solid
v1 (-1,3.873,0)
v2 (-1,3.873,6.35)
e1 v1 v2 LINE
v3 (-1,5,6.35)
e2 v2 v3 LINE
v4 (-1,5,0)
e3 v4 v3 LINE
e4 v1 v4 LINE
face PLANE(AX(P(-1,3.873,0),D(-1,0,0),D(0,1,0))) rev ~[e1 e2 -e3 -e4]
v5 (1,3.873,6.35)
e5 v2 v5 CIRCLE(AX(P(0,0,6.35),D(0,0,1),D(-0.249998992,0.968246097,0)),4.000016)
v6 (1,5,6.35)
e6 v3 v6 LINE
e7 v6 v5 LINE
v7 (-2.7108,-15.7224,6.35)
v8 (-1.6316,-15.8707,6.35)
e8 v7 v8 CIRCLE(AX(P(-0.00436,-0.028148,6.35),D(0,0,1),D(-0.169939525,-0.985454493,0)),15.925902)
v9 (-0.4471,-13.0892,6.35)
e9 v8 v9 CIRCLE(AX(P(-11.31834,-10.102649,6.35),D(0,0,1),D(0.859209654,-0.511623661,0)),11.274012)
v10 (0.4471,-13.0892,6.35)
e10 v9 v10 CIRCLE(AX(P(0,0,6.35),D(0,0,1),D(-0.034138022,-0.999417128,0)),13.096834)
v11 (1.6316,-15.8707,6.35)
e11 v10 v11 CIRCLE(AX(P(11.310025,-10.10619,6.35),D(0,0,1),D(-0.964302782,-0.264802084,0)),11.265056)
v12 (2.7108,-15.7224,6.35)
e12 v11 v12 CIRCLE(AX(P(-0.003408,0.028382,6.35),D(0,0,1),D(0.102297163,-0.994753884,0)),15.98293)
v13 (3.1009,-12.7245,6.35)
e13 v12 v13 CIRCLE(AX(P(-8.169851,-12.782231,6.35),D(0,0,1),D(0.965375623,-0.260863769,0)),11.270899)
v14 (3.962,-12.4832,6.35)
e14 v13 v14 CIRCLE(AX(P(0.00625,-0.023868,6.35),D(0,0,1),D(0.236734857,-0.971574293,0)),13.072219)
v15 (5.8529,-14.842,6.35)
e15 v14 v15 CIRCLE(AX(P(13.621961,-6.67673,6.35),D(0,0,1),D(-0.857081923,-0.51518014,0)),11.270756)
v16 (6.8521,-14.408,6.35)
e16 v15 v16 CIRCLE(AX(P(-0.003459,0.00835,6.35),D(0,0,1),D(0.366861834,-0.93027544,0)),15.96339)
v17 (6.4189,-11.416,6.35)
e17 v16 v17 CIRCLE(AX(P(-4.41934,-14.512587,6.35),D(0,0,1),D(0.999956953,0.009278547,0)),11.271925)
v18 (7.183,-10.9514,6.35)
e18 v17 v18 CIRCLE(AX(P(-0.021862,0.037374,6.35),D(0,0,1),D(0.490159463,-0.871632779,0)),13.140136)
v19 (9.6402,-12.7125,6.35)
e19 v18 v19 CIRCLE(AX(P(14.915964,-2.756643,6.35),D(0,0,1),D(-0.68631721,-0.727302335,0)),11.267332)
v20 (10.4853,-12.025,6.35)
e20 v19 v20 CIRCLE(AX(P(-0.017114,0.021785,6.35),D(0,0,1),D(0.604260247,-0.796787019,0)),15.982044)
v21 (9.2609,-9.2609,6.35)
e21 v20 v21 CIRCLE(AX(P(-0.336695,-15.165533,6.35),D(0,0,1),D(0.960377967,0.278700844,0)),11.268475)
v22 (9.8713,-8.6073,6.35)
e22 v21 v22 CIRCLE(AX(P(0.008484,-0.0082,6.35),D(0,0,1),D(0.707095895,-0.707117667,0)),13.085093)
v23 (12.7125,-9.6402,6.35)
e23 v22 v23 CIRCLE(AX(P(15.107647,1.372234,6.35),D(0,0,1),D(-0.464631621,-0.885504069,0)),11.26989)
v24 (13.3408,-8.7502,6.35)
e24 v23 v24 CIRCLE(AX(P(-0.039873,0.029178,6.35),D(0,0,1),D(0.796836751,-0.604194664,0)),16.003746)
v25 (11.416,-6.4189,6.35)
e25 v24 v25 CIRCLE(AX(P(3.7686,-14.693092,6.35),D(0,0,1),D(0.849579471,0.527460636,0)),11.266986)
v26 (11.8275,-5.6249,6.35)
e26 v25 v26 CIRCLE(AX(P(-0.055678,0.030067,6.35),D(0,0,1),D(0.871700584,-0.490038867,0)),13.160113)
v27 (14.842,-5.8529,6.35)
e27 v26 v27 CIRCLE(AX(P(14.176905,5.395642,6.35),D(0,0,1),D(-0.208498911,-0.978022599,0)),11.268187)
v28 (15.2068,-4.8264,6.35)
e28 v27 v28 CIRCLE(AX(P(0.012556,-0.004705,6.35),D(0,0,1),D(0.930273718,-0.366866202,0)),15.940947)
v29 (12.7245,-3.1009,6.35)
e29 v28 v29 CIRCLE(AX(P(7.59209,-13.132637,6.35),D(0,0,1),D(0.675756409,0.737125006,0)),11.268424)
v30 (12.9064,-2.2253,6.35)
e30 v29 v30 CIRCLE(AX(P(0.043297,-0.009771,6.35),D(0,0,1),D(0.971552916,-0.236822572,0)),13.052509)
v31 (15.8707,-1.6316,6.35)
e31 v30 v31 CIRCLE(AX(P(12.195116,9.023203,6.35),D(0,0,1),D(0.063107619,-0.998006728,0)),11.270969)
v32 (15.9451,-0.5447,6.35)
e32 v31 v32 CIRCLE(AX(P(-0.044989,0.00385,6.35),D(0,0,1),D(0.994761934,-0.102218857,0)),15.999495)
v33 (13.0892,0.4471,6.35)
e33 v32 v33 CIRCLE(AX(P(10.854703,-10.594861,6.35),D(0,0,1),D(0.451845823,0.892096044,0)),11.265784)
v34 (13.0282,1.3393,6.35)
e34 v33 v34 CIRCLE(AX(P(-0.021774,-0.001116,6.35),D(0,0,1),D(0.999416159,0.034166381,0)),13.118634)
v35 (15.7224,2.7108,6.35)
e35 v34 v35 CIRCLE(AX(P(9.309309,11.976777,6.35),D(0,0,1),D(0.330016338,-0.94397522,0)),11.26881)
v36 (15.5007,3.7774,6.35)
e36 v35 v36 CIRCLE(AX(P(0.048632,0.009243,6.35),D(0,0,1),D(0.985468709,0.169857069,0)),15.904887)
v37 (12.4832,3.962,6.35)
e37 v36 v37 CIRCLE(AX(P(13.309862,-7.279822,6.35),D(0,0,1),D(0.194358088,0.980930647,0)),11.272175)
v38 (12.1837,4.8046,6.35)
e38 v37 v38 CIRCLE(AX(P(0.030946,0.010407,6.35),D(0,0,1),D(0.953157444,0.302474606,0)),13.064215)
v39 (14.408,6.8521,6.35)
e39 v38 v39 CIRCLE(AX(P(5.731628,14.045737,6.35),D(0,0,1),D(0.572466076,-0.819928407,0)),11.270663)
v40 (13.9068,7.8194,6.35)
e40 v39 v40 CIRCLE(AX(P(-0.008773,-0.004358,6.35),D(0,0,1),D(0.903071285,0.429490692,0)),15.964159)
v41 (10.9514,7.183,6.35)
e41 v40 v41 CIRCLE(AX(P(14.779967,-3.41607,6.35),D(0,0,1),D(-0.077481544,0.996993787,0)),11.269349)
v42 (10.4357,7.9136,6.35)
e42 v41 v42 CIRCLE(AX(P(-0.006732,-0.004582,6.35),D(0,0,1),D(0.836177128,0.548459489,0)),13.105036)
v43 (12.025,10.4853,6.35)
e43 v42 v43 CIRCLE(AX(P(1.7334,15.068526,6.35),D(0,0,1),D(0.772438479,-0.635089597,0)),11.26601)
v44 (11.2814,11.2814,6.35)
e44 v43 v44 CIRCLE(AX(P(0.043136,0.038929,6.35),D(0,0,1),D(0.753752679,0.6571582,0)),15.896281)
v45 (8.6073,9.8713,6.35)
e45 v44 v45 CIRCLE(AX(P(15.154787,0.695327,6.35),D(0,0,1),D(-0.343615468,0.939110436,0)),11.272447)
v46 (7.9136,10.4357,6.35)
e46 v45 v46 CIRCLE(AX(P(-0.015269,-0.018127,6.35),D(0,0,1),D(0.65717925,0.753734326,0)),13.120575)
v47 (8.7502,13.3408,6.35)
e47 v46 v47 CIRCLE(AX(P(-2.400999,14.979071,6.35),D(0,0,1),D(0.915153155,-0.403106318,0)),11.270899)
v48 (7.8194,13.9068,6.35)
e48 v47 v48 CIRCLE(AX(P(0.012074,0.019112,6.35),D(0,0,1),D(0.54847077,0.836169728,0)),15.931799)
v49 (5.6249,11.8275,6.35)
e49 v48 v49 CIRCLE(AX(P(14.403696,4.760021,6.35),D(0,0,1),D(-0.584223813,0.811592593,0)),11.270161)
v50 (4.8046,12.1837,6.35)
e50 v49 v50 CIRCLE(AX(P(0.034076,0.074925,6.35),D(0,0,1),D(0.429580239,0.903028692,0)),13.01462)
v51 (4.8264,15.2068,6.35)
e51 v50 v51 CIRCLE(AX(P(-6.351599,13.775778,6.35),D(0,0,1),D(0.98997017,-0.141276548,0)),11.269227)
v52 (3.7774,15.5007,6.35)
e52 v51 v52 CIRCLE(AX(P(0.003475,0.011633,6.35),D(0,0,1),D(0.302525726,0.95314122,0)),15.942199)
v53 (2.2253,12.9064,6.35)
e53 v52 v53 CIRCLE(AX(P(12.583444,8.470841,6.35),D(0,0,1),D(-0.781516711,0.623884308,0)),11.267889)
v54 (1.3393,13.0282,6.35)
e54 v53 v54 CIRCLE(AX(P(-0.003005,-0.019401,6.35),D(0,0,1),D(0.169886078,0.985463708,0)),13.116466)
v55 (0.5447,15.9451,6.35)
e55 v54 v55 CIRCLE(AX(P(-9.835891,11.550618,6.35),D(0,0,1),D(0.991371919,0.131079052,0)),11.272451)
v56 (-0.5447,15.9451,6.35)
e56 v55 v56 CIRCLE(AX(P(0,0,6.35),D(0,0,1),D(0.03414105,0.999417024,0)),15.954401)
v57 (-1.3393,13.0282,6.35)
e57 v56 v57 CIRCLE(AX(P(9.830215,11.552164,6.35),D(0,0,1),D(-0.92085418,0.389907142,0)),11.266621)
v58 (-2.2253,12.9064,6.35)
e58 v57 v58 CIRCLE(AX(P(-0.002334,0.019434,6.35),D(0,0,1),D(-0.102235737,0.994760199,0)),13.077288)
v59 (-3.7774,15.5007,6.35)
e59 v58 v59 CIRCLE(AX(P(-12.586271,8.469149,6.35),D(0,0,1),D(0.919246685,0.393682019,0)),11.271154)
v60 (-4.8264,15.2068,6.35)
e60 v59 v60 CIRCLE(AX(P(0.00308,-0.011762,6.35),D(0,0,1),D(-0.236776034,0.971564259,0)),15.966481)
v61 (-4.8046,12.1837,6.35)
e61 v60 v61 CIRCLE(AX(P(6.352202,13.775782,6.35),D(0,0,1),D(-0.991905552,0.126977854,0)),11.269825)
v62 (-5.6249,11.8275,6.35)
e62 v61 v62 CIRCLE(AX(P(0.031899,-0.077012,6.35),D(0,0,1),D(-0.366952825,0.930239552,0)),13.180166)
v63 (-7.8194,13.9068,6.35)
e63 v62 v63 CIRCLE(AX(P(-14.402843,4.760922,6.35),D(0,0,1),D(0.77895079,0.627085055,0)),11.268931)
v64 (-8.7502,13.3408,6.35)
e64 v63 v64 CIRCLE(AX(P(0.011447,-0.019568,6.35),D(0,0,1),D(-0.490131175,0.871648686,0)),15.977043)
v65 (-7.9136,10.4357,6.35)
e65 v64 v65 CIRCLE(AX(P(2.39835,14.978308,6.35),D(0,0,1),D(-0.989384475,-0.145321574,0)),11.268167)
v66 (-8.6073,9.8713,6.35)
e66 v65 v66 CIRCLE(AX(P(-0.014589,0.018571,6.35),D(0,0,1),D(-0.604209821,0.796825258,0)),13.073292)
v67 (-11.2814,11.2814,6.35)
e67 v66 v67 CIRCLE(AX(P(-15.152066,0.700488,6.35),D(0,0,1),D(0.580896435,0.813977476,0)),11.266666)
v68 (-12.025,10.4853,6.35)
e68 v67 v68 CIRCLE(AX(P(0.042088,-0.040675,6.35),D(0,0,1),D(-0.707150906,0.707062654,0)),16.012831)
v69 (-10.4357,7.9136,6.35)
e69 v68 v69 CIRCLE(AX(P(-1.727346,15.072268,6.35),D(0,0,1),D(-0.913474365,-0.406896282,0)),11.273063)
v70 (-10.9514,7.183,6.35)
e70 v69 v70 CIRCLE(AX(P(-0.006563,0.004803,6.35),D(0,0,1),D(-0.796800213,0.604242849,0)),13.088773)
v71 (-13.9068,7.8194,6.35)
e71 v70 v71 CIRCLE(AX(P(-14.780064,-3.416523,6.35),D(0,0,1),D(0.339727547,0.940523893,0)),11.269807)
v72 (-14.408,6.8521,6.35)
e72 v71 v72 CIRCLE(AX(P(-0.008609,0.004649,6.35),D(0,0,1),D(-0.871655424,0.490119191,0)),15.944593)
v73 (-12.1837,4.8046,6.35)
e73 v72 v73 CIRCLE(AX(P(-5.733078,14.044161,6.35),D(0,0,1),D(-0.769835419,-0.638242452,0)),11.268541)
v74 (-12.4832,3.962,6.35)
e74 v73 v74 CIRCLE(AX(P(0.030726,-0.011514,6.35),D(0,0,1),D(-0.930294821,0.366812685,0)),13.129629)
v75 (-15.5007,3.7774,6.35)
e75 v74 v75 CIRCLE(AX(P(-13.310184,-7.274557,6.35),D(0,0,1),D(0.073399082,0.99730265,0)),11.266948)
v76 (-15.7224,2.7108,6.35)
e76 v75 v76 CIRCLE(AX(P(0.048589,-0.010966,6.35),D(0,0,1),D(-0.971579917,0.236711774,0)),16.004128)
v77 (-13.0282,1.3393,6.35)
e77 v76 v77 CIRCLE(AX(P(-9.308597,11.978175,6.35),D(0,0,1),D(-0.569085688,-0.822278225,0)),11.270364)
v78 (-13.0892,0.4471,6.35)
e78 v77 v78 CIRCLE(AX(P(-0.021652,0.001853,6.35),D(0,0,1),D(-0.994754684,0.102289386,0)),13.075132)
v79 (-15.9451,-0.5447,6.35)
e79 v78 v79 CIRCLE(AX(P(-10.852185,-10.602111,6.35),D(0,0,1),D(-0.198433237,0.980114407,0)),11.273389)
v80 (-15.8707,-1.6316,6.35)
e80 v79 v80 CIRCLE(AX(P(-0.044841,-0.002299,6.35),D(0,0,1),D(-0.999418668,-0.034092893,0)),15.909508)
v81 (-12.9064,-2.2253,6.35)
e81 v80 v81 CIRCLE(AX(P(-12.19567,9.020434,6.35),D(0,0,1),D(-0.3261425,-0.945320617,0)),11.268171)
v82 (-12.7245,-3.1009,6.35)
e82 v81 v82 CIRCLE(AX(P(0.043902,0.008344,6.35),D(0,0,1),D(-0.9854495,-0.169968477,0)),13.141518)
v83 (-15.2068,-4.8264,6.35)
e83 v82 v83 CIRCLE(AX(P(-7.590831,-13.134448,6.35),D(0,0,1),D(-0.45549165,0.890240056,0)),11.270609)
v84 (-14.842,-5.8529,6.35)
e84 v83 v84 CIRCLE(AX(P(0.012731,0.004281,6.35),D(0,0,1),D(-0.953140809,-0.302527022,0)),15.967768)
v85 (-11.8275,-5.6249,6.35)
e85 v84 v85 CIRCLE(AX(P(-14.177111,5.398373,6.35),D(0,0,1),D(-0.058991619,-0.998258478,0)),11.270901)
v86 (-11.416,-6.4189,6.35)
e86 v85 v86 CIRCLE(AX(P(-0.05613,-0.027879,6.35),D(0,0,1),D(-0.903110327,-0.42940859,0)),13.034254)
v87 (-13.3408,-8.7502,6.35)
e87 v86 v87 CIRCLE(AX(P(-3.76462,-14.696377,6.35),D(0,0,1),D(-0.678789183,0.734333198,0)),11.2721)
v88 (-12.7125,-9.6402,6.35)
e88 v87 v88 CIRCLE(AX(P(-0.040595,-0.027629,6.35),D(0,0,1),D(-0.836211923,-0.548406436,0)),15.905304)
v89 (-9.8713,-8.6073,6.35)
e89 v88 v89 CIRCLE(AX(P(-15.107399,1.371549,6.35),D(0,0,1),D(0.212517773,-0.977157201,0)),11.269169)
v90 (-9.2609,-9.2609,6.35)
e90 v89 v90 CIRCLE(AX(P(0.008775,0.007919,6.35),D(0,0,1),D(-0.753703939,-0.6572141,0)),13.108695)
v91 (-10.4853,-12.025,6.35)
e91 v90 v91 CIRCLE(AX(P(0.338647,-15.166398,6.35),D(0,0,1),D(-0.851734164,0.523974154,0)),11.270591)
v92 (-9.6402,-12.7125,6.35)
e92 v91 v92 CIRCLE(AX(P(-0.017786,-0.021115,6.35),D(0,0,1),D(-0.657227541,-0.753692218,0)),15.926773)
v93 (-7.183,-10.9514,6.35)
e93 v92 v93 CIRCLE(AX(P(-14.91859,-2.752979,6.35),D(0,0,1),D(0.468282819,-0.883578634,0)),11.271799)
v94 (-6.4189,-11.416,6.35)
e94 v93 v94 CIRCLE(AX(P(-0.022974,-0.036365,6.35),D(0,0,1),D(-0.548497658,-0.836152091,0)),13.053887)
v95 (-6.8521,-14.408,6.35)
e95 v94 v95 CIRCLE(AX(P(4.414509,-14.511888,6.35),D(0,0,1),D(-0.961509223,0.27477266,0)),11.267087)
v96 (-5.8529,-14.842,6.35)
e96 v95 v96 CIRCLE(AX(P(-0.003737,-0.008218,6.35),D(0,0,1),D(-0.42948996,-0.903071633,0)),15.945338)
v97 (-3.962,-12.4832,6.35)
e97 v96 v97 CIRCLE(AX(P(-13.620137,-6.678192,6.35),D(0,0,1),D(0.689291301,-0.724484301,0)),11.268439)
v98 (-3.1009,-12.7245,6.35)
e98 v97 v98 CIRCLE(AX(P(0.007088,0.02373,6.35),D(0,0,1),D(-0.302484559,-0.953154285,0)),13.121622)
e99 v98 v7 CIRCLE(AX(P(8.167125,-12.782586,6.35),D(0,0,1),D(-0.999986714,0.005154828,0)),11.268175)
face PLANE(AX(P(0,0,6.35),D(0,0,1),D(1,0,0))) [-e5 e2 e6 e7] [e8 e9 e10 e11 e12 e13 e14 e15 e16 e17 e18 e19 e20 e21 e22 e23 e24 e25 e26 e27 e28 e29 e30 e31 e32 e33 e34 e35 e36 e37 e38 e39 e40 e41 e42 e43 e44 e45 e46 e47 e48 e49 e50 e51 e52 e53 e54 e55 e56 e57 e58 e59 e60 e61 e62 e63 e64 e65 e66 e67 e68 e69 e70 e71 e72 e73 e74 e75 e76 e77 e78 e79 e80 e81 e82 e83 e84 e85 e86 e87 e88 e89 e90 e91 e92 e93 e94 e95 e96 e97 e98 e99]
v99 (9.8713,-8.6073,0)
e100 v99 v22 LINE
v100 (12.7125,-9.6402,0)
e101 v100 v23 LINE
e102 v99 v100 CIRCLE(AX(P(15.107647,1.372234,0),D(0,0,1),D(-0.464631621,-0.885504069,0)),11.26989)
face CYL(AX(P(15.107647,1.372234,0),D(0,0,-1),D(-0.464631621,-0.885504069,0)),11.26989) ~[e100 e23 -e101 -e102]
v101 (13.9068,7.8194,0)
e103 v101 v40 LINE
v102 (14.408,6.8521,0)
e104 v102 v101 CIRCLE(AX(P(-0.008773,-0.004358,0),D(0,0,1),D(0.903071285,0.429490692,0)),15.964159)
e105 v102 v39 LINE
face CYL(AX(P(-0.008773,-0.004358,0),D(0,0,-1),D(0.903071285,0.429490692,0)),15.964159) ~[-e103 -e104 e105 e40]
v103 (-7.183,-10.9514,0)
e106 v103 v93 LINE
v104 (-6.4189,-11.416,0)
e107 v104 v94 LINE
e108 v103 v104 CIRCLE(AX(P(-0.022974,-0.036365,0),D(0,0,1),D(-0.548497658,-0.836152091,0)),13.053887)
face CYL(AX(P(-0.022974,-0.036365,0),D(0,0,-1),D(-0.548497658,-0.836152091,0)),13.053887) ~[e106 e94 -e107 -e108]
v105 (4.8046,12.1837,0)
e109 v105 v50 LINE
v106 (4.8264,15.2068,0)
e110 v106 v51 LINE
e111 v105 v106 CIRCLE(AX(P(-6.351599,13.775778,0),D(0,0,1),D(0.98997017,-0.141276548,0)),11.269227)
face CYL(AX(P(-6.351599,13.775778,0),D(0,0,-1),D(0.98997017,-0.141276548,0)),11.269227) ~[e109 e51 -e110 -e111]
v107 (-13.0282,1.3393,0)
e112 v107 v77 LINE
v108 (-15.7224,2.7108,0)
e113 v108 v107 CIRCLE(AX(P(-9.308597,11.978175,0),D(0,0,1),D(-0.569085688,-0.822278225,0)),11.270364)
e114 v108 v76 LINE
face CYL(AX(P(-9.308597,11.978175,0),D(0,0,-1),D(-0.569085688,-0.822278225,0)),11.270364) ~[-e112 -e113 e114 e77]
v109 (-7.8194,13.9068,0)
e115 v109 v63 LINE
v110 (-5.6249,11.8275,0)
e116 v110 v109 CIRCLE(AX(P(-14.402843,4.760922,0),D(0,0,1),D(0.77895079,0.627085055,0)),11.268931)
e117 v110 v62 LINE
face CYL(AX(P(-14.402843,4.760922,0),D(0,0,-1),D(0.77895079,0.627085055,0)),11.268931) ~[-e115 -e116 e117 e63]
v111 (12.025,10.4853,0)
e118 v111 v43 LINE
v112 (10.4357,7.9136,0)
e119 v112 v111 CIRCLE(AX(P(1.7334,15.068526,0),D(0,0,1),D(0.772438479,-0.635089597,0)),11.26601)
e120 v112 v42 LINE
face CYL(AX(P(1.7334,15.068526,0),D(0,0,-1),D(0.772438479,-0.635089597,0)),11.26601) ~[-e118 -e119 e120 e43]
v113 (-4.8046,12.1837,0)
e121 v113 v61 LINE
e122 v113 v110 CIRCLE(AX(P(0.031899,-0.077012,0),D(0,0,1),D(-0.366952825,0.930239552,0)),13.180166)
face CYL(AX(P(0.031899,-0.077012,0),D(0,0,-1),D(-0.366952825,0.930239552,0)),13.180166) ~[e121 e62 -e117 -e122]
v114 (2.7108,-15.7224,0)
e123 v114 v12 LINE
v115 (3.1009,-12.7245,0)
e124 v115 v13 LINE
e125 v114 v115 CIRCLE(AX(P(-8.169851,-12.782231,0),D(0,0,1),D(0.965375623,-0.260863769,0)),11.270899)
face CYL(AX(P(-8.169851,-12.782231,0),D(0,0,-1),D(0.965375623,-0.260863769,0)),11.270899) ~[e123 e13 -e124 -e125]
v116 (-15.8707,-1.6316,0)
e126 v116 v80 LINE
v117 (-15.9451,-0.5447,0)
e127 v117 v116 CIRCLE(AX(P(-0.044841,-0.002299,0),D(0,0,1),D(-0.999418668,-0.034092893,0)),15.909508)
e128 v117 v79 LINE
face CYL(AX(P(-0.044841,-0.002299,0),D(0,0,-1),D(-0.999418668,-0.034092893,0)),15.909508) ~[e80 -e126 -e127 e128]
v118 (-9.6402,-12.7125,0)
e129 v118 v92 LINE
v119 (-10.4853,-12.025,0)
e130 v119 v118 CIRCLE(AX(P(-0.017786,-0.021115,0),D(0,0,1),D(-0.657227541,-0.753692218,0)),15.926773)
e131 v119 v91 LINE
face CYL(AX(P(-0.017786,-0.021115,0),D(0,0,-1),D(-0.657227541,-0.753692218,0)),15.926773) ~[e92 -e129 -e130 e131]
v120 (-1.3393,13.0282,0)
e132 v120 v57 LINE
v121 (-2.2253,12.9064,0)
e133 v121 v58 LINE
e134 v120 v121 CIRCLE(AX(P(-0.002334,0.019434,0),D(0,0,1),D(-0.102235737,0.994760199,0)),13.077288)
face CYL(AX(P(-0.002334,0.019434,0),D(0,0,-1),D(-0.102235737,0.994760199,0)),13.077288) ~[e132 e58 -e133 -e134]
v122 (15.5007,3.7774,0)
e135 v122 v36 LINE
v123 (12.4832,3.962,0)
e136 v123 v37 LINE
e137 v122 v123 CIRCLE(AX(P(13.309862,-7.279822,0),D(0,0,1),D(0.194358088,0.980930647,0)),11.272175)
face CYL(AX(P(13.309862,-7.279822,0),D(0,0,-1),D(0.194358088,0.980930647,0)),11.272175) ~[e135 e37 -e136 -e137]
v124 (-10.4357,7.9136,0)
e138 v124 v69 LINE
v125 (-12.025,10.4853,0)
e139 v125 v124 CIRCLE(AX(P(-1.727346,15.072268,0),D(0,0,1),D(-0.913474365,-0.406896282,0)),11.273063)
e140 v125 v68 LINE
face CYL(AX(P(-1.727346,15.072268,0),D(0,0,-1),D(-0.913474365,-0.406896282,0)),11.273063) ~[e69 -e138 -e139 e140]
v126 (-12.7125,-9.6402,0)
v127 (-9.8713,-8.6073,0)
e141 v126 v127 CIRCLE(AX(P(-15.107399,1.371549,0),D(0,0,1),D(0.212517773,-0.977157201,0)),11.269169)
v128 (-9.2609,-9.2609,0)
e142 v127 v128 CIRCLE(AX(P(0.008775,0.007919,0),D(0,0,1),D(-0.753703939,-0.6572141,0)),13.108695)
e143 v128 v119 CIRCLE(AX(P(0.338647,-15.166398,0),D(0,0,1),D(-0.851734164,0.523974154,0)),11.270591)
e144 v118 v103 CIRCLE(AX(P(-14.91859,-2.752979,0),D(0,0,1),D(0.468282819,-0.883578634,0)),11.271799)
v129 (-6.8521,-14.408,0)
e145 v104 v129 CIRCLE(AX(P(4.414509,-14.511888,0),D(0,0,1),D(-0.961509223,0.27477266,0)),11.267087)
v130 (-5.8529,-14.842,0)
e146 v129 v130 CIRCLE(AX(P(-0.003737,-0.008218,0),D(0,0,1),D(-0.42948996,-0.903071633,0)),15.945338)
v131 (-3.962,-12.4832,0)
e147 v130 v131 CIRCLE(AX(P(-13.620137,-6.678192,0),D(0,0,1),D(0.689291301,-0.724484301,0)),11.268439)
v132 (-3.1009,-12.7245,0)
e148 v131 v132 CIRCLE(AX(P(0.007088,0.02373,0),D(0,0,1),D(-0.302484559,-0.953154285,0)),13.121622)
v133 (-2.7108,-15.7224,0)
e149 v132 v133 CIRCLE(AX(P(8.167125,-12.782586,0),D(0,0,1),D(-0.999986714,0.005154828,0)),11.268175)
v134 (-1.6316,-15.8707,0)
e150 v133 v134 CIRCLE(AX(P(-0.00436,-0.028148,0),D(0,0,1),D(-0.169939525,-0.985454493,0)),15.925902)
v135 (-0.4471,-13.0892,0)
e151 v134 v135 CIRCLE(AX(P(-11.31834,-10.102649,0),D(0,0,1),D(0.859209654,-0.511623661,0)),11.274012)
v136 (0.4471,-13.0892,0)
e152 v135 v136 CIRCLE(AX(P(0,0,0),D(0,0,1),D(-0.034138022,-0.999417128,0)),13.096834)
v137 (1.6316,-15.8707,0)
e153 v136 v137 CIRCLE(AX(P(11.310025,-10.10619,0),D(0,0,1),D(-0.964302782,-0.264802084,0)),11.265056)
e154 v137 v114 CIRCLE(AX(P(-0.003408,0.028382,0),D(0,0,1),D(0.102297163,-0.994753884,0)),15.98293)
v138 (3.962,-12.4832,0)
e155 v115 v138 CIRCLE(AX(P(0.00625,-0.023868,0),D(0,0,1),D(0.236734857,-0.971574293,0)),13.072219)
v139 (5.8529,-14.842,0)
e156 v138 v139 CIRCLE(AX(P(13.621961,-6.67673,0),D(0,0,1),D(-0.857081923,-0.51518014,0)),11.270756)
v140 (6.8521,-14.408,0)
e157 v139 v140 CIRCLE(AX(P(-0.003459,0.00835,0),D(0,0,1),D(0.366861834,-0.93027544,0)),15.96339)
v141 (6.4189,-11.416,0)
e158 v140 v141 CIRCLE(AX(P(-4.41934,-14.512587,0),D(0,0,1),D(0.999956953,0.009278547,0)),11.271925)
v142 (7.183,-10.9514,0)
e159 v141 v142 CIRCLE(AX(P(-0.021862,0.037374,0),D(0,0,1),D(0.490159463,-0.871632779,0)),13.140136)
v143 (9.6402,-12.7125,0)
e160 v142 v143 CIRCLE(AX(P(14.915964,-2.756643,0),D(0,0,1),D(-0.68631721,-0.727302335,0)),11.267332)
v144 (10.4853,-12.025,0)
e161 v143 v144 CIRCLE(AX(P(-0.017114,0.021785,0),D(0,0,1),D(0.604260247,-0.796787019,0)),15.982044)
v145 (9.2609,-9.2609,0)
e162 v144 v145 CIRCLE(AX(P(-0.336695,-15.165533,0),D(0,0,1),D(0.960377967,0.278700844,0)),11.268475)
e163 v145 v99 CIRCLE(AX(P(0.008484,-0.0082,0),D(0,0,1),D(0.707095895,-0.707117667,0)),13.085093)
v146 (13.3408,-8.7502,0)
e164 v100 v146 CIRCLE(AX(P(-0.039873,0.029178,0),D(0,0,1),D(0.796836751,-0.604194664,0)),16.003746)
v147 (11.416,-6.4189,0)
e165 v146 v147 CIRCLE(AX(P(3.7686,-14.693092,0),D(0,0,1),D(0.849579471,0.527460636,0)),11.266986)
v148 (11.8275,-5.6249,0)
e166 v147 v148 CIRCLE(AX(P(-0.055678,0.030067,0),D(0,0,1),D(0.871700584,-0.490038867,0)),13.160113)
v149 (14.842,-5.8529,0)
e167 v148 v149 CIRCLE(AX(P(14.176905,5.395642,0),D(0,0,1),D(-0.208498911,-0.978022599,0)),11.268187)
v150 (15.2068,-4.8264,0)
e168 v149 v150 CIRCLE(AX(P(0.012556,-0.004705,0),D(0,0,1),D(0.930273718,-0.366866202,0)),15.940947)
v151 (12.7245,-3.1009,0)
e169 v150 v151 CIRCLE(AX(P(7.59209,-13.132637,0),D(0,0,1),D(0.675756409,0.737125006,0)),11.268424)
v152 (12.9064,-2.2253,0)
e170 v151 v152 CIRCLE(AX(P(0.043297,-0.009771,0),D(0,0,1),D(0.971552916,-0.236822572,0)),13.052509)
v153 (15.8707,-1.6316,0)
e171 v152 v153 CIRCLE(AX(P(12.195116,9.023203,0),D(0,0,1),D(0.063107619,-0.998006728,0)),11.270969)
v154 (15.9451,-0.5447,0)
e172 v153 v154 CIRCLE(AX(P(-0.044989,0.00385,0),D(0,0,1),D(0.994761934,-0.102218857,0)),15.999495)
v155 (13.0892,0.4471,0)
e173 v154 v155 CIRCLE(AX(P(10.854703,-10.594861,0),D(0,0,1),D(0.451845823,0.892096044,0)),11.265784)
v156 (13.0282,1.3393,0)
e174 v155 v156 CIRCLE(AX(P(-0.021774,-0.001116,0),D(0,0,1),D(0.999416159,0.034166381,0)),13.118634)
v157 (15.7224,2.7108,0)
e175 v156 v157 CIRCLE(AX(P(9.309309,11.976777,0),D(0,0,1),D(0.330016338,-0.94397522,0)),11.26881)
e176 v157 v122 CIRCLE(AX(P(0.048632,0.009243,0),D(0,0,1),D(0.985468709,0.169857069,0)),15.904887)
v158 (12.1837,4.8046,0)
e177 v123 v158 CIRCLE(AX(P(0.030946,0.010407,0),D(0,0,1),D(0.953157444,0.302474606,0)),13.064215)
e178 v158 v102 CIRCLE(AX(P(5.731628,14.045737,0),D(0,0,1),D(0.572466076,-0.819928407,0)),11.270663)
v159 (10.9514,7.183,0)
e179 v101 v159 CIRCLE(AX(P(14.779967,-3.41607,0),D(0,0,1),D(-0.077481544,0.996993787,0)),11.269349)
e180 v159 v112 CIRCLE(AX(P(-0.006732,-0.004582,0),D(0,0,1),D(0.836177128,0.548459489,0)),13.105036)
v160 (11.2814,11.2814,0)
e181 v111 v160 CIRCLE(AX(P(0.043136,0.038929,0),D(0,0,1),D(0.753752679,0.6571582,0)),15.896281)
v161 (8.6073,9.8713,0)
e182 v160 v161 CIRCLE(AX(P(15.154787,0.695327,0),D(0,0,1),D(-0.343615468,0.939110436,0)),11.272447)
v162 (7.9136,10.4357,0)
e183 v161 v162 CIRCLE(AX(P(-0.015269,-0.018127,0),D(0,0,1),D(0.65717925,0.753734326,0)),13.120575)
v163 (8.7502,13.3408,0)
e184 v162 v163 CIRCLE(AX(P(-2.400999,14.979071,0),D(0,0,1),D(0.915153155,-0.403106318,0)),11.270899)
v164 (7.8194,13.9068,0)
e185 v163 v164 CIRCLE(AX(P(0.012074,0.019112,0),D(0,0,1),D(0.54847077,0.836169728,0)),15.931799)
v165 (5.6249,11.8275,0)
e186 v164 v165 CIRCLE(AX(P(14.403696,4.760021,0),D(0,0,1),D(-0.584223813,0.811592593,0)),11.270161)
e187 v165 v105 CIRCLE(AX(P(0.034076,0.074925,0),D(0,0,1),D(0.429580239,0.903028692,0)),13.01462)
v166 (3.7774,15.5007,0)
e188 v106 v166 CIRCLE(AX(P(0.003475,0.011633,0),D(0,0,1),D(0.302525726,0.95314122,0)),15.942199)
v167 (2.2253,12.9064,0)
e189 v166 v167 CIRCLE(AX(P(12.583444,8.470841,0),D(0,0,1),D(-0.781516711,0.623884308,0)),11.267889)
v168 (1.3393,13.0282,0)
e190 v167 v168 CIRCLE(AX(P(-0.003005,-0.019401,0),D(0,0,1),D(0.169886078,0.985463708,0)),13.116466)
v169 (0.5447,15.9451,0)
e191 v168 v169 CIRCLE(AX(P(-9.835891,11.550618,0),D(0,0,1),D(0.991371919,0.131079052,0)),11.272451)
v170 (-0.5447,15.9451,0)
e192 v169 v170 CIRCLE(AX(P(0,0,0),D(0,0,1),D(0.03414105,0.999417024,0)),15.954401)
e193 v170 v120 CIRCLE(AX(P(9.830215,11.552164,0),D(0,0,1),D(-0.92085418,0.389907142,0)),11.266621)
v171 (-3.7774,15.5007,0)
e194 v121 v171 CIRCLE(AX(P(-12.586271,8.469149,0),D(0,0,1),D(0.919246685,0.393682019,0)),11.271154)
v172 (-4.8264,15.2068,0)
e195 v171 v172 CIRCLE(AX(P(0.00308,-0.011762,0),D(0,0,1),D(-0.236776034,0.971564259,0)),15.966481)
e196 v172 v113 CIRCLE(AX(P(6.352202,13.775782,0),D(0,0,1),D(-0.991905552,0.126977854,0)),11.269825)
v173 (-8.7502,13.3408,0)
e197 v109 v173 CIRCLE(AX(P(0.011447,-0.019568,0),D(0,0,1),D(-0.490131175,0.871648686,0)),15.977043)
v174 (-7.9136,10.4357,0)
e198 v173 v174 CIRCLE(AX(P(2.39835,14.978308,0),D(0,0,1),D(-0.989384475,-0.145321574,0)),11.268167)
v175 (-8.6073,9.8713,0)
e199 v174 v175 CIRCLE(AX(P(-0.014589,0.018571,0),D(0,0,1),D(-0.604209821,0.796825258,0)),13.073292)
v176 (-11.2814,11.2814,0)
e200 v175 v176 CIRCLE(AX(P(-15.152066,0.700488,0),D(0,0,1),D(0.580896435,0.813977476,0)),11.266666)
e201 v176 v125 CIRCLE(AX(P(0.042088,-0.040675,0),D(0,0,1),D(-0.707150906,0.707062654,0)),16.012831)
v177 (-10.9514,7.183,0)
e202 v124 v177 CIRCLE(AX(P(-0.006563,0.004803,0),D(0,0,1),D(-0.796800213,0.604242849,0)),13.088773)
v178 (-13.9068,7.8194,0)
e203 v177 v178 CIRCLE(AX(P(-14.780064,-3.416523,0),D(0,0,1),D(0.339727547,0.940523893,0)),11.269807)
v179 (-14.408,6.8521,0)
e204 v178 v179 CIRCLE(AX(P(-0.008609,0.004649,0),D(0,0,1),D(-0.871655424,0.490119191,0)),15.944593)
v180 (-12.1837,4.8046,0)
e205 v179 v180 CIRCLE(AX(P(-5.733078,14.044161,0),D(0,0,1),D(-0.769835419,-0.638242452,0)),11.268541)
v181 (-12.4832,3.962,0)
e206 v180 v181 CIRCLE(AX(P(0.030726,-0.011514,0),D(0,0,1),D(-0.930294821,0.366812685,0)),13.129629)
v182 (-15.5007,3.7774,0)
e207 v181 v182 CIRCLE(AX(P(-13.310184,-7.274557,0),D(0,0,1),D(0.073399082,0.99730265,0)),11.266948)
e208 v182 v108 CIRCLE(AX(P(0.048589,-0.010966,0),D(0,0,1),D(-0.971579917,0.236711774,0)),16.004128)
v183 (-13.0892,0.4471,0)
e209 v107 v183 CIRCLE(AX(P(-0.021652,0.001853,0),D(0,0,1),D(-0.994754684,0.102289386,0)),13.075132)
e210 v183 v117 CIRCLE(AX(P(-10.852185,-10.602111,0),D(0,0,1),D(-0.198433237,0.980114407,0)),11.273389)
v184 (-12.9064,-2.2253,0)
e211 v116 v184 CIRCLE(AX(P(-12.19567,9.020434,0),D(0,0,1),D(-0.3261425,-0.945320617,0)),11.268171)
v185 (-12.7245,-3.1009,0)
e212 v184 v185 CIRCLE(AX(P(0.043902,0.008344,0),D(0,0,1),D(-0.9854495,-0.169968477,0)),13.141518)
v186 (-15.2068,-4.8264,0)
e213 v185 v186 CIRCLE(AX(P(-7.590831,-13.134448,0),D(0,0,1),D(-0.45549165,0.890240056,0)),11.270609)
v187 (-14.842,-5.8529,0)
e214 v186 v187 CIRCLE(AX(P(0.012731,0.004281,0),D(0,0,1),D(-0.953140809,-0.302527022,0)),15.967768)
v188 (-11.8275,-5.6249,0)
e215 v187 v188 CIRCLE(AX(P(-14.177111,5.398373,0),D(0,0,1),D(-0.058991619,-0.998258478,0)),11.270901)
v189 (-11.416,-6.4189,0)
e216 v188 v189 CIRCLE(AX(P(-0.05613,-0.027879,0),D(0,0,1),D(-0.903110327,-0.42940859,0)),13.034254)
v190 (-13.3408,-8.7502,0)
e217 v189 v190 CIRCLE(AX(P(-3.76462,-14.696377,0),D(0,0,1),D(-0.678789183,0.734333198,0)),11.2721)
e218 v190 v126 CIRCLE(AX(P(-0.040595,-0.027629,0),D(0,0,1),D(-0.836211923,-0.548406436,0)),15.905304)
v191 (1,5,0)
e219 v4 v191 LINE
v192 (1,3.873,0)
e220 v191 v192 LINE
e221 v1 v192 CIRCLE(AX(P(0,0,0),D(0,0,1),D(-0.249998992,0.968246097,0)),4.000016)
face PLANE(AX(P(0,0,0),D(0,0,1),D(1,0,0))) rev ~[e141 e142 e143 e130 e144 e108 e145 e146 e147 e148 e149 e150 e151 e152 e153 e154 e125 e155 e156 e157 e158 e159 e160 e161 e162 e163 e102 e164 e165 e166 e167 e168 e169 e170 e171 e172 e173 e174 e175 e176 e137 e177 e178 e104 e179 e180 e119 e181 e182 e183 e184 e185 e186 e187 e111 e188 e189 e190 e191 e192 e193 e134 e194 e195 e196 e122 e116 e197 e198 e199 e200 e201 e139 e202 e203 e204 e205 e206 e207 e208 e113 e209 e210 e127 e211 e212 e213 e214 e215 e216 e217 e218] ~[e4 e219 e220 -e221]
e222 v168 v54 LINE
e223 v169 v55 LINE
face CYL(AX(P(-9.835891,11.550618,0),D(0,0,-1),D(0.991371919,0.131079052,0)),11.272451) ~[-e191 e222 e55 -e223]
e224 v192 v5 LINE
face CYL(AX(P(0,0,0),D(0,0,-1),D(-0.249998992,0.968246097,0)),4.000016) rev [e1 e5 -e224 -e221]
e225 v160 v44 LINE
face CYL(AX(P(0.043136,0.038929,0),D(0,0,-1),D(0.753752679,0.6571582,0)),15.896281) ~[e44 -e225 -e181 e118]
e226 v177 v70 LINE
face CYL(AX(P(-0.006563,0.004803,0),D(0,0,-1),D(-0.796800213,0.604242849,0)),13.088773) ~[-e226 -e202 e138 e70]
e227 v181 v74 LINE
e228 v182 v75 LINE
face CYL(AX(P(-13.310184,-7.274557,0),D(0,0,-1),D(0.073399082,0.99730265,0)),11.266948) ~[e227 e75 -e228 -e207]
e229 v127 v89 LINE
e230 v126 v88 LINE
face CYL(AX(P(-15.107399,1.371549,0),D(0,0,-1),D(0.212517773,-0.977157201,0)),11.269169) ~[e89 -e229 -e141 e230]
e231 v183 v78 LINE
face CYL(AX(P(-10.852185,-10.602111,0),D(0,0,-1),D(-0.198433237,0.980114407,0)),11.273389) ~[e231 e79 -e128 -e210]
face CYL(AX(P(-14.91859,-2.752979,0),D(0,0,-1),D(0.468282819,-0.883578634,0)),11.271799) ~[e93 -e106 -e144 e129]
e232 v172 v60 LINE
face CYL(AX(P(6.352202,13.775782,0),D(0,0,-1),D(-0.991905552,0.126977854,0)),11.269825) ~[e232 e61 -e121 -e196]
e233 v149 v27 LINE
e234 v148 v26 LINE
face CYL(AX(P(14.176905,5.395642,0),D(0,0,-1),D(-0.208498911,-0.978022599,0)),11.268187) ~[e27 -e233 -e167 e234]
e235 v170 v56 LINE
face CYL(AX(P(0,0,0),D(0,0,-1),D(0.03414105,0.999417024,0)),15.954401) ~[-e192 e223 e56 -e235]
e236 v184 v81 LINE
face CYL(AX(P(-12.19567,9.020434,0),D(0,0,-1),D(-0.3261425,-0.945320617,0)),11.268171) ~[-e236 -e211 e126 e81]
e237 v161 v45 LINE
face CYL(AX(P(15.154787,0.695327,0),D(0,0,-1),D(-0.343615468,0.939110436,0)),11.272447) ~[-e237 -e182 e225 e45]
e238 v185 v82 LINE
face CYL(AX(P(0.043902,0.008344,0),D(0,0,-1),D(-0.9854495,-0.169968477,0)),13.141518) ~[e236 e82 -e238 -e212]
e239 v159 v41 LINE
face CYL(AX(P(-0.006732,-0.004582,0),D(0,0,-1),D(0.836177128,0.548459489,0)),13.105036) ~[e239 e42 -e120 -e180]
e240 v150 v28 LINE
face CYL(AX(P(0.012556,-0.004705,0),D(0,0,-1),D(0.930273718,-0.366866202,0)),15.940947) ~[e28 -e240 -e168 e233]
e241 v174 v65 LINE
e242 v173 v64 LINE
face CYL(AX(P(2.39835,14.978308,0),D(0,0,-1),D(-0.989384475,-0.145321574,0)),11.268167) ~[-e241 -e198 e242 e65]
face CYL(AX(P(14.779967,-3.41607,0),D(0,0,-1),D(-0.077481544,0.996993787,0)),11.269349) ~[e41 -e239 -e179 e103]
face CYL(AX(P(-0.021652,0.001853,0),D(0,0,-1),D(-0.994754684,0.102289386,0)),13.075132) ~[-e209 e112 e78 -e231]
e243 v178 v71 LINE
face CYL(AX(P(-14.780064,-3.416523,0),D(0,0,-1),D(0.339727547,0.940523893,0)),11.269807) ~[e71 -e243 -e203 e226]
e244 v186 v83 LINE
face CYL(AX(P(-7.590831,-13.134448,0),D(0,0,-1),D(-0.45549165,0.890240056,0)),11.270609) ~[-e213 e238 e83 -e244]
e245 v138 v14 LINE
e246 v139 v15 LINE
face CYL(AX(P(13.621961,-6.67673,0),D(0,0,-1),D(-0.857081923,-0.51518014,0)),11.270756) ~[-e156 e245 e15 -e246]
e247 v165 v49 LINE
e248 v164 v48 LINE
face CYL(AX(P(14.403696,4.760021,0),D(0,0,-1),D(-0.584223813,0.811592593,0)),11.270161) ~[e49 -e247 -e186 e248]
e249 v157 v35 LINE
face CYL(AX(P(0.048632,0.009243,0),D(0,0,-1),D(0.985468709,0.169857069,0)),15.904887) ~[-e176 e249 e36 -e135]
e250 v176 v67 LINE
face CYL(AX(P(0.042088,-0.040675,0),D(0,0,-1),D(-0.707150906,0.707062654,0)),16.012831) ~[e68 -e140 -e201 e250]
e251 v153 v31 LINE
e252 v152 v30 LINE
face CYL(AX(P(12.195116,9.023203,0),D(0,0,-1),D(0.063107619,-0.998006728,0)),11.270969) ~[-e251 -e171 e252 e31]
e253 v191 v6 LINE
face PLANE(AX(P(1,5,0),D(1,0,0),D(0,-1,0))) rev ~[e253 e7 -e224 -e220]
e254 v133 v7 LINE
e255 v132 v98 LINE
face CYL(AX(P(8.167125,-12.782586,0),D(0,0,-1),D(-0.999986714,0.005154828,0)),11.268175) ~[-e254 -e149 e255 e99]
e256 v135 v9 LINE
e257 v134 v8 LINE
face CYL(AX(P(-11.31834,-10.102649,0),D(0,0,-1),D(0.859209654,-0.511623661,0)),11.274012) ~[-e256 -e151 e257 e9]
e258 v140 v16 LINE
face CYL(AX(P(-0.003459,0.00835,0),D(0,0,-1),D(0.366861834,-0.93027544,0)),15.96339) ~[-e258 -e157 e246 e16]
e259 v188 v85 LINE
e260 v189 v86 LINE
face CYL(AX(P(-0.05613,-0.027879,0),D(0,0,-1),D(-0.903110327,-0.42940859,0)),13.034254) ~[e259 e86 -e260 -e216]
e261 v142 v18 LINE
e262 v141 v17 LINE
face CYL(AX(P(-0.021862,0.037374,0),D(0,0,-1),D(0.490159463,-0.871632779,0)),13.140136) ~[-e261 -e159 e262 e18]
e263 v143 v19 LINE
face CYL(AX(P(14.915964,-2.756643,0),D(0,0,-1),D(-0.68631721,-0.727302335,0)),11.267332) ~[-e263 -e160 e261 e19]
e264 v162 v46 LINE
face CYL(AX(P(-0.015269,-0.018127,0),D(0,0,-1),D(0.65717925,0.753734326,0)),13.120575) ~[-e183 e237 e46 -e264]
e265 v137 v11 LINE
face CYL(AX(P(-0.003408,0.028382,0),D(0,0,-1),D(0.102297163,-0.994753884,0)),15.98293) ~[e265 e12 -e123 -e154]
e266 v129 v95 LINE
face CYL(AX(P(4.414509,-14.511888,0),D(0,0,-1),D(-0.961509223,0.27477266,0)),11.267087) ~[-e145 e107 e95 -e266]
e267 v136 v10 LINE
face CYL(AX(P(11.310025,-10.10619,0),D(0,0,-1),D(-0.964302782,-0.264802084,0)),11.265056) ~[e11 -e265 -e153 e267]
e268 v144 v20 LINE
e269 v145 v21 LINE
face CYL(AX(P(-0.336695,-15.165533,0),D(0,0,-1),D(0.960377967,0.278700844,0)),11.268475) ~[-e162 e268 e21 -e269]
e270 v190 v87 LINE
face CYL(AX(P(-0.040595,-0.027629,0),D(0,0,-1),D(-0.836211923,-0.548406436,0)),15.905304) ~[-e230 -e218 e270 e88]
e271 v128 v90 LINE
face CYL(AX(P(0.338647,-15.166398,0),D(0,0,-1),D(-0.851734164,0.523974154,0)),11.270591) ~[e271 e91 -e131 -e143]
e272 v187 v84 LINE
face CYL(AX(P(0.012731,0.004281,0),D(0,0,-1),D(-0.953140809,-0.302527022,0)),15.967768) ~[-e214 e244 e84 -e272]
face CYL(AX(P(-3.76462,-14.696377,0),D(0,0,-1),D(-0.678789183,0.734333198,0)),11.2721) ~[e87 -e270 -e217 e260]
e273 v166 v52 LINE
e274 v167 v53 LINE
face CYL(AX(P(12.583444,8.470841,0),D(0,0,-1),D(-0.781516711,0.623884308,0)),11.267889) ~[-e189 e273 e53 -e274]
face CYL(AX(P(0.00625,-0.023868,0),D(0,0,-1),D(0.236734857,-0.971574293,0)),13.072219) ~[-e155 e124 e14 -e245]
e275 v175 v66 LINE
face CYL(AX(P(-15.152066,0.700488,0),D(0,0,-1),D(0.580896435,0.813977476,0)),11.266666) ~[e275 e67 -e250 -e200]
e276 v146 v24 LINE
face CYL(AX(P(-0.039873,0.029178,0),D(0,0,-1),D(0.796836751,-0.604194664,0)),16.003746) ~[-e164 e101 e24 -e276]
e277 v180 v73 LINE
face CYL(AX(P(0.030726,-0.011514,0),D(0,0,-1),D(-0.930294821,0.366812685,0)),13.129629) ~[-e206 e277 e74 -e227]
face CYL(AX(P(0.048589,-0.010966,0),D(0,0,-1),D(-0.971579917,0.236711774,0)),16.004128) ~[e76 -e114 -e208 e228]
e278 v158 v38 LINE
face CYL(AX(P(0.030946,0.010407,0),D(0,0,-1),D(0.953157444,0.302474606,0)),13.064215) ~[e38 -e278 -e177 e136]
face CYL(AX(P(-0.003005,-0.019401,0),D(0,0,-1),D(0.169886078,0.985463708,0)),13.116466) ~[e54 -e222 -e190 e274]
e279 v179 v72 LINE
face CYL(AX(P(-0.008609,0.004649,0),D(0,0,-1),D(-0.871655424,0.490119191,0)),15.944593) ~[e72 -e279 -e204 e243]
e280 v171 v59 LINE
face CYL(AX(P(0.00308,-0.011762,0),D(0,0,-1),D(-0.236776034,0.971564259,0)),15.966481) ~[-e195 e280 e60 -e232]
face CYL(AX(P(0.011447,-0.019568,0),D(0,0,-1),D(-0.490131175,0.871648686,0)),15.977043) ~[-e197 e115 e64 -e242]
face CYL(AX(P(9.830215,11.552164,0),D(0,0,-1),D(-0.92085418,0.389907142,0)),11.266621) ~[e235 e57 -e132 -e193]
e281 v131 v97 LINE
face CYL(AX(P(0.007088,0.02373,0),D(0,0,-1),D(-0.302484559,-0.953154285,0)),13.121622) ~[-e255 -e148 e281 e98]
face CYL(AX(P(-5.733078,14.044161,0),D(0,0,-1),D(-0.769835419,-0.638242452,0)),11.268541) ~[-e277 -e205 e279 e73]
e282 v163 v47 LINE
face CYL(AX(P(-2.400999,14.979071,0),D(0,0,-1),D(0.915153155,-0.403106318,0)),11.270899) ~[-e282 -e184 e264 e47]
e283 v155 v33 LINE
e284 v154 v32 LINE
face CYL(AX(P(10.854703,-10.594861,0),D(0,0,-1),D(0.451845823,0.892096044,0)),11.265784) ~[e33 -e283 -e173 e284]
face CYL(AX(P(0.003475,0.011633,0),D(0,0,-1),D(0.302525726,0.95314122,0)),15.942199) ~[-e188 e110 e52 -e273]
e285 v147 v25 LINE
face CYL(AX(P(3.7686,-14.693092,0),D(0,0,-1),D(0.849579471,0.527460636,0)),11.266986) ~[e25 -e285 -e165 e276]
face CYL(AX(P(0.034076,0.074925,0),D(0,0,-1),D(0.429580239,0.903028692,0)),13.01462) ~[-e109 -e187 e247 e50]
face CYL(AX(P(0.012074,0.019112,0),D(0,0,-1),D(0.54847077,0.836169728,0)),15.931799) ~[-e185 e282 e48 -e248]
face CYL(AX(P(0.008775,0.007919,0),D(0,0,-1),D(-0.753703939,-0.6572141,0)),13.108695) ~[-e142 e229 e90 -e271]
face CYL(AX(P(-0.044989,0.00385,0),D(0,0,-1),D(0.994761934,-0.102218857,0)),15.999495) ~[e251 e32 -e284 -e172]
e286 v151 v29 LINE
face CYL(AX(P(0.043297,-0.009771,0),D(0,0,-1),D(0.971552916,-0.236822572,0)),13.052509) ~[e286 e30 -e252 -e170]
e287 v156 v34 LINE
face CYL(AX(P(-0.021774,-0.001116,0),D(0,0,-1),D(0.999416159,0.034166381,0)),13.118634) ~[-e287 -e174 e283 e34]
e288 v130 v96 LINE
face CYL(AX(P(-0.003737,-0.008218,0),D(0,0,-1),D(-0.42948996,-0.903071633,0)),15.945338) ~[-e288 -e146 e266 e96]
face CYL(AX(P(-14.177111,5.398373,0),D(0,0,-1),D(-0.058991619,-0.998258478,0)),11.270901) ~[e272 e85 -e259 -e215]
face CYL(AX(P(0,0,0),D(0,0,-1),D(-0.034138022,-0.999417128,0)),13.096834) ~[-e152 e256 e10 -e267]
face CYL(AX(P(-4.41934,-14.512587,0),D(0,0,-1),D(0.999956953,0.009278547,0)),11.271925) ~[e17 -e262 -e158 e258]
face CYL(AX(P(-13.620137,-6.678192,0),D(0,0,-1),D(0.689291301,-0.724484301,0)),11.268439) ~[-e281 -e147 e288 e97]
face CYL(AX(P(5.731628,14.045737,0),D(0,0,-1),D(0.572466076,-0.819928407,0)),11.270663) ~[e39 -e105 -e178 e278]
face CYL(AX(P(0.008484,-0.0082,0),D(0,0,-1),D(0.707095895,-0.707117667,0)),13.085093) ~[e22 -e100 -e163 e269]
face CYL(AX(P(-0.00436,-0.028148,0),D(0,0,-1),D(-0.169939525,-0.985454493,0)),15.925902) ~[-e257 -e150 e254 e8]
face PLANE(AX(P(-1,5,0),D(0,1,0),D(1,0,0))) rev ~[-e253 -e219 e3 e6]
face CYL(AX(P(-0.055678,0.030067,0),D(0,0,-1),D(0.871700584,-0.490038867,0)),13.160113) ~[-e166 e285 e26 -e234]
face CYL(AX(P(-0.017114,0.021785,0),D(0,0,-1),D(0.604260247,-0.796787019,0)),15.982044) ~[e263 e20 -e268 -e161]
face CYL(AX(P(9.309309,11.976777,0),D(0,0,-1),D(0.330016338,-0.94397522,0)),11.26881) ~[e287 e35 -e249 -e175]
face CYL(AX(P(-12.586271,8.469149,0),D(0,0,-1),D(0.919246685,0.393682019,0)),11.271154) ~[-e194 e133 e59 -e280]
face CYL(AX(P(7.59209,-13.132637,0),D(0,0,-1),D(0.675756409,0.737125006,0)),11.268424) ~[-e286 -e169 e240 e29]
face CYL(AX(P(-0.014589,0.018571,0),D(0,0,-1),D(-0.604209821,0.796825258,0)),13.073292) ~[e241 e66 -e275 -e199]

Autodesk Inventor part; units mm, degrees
ref_plane "YZ Plane" through (0, 0, 0) normal (1, 0, 0) x (0, 1, 0)
ref_plane "XZ Plane" through (0, 0, 0) normal (0, 1, 0) x (-1, 0, 0)
ref_plane "XY Plane" through (0, 0, 0) normal (0, 0, 1) x (1, 0, 0)
sketch "Sketch1" plane through (0, 0, 0) normal (0, 0, 1) x (1, 0, 0)
  arc A0 (-4.8264, 15.2068) -> (-4.8046, 12.1837) centre (6.3519, 13.7758) ccw
  arc A1 (-4.8046, 12.1837) -> (-5.6249, 11.8275) centre (0, 0) ccw
  arc A2 (-5.6249, 11.8275) -> (-7.8194, 13.9068) centre (-14.4033, 4.7605) ccw
  arc A3 (-7.8194, 13.9068) -> (-8.7502, 13.3408) centre (0, 0) ccw
  arc A4 (-8.7502, 13.3408) -> (-7.9136, 10.4357) centre (2.3997, 14.9786) ccw
  arc A5 (-7.9136, 10.4357) -> (-8.6073, 9.8713) centre (0, 0) ccw
  arc A6 (-8.6073, 9.8713) -> (-11.2814, 11.2814) centre (-15.1536, 0.698) ccw
  arc A7 (-11.2814, 11.2814) -> (-12.025, 10.4853) centre (0, 0) ccw
  arc A8 (-12.025, 10.4853) -> (-10.4357, 7.9136) centre (-1.7305, 15.0706) ccw
  arc A9 (-10.4357, 7.9136) -> (-10.9514, 7.183) centre (0, 0) ccw
  arc A10 (-10.9514, 7.183) -> (-13.9068, 7.8194) centre (-14.78, -3.4163) ccw
  arc A11 (-13.9068, 7.8194) -> (-14.408, 6.8521) centre (0, 0) ccw
  arc A12 (-14.408, 6.8521) -> (-12.1837, 4.8046) centre (-5.7323, 14.0449) ccw
  arc A13 (-12.1837, 4.8046) -> (-12.4832, 3.962) centre (0, 0) ccw
  arc A14 (-12.4832, 3.962) -> (-15.5007, 3.7774) centre (-13.3102, -7.2772) ccw
  arc A15 (-15.5007, 3.7774) -> (-15.7224, 2.7108) centre (0, 0) ccw
  arc A16 (-15.7224, 2.7108) -> (-13.0282, 1.3393) centre (-9.309, 11.9775) ccw
  arc A17 (-13.0282, 1.3393) -> (-13.0892, 0.4471) centre (0, 0) ccw
  arc A18 (-13.0892, 0.4471) -> (-15.9451, -0.5447) centre (-10.8532, -10.5984) ccw
  arc A19 (-15.9451, -0.5447) -> (-15.8707, -1.6316) centre (0, 0) ccw
  arc A20 (-15.8707, -1.6316) -> (-12.9064, -2.2253) centre (-12.1953, 9.0218) ccw
  arc A21 (-12.9064, -2.2253) -> (-12.7245, -3.1009) centre (0, 0) ccw
  arc A22 (-12.7245, -3.1009) -> (-15.2068, -4.8264) centre (-7.5914, -13.1335) ccw
  arc A23 (-15.2068, -4.8264) -> (-14.842, -5.8529) centre (0, 0) ccw
  arc A24 (-14.842, -5.8529) -> (-11.8275, -5.6249) centre (-14.1771, 5.397) ccw
  arc A25 (-11.8275, -5.6249) -> (-11.416, -6.4189) centre (0, 0) ccw
  arc A26 (-11.416, -6.4189) -> (-13.3408, -8.7502) centre (-3.7665, -14.6946) ccw
  arc A27 (-13.3408, -8.7502) -> (-12.7125, -9.6402) centre (0, 0) ccw
  arc A28 (-12.7125, -9.6402) -> (-9.8713, -8.6073) centre (-15.1075, 1.3719) ccw
  arc A29 (-9.8713, -8.6073) -> (-9.2609, -9.2609) centre (0, 0) ccw
  arc A30 (-9.2609, -9.2609) -> (-10.4853, -12.025) centre (0.3377, -15.1659) ccw
  arc A31 (-10.4853, -12.025) -> (-9.6402, -12.7125) centre (0, 0) ccw
  arc A32 (-9.6402, -12.7125) -> (-7.183, -10.9514) centre (-14.9174, -2.7549) ccw
  arc A33 (-7.183, -10.9514) -> (-6.4189, -11.416) centre (0, 0) ccw
  arc A34 (-6.4189, -11.416) -> (-6.8521, -14.408) centre (4.4169, -14.5124) ccw
  arc A35 (-6.8521, -14.408) -> (-5.8529, -14.842) centre (0, 0) ccw
  arc A36 (-5.8529, -14.842) -> (-3.962, -12.4832) centre (-13.621, -6.6774) ccw
  arc A37 (-3.962, -12.4832) -> (-3.1009, -12.7245) centre (0, 0) ccw
  arc A38 (-3.1009, -12.7245) -> (-2.7108, -15.7224) centre (8.1685, -12.7825) ccw
  arc A39 (-2.7108, -15.7224) -> (-1.6316, -15.8707) centre (0, 0) ccw
  arc A40 (-1.6316, -15.8707) -> (-0.4471, -13.0892) centre (-11.3143, -10.1047) ccw
  arc A41 (-0.4471, -13.0892) -> (0.4471, -13.0892) centre (0, 0) ccw
  arc A42 (0.4471, -13.0892) -> (1.6316, -15.8707) centre (11.3143, -10.1047) ccw
  arc A43 (1.6316, -15.8707) -> (2.7108, -15.7224) centre (0, 0) ccw
  arc A44 (2.7108, -15.7224) -> (3.1009, -12.7245) centre (-8.1685, -12.7825) ccw
  arc A45 (3.1009, -12.7245) -> (3.962, -12.4832) centre (0, 0) ccw
  arc A46 (3.962, -12.4832) -> (5.8529, -14.842) centre (13.621, -6.6774) ccw
  arc A47 (5.8529, -14.842) -> (6.8521, -14.408) centre (0, 0) ccw
  arc A48 (6.8521, -14.408) -> (6.4189, -11.416) centre (-4.4169, -14.5124) ccw
  arc A49 (6.4189, -11.416) -> (7.183, -10.9514) centre (0, 0) ccw
  arc A50 (7.183, -10.9514) -> (9.6402, -12.7125) centre (14.9174, -2.7549) ccw
  arc A51 (9.6402, -12.7125) -> (10.4853, -12.025) centre (0, 0) ccw
  arc A52 (10.4853, -12.025) -> (9.2609, -9.2609) centre (-0.3377, -15.1659) ccw
  arc A53 (9.2609, -9.2609) -> (9.8713, -8.6073) centre (0, 0) ccw
  arc A54 (9.8713, -8.6073) -> (12.7125, -9.6402) centre (15.1075, 1.3719) ccw
  arc A55 (12.7125, -9.6402) -> (13.3408, -8.7502) centre (0, 0) ccw
  arc A56 (13.3408, -8.7502) -> (11.416, -6.4189) centre (3.7665, -14.6946) ccw
  arc A57 (11.416, -6.4189) -> (11.8275, -5.6249) centre (0, 0) ccw
  arc A58 (11.8275, -5.6249) -> (14.842, -5.8529) centre (14.1771, 5.397) ccw
  arc A59 (14.842, -5.8529) -> (15.2068, -4.8264) centre (0, 0) ccw
  arc A60 (15.2068, -4.8264) -> (12.7245, -3.1009) centre (7.5914, -13.1335) ccw
  arc A61 (12.7245, -3.1009) -> (12.9064, -2.2253) centre (0, 0) ccw
  arc A62 (12.9064, -2.2253) -> (15.8707, -1.6316) centre (12.1953, 9.0218) ccw
  arc A63 (15.8707, -1.6316) -> (15.9451, -0.5447) centre (0, 0) ccw
  arc A64 (15.9451, -0.5447) -> (13.0892, 0.4471) centre (10.8532, -10.5984) ccw
  arc A65 (13.0892, 0.4471) -> (13.0282, 1.3393) centre (0, 0) ccw
  arc A66 (13.0282, 1.3393) -> (15.7224, 2.7108) centre (9.309, 11.9775) ccw
  arc A67 (15.7224, 2.7108) -> (15.5007, 3.7774) centre (0, 0) ccw
  arc A68 (15.5007, 3.7774) -> (12.4832, 3.962) centre (13.3102, -7.2772) ccw
  arc A69 (12.4832, 3.962) -> (12.1837, 4.8046) centre (0, 0) ccw
  arc A70 (12.1837, 4.8046) -> (14.408, 6.8521) centre (5.7323, 14.0449) ccw
  arc A71 (14.408, 6.8521) -> (13.9068, 7.8194) centre (0, 0) ccw
  arc A72 (13.9068, 7.8194) -> (10.9514, 7.183) centre (14.78, -3.4163) ccw
  arc A73 (10.9514, 7.183) -> (10.4357, 7.9136) centre (0, 0) ccw
  arc A74 (10.4357, 7.9136) -> (12.025, 10.4853) centre (1.7305, 15.0706) ccw
  arc A75 (12.025, 10.4853) -> (11.2814, 11.2814) centre (0, 0) ccw
  arc A76 (11.2814, 11.2814) -> (8.6073, 9.8713) centre (15.1536, 0.698) ccw
  arc A77 (8.6073, 9.8713) -> (7.9136, 10.4357) centre (0, 0) ccw
  arc A78 (7.9136, 10.4357) -> (8.7502, 13.3408) centre (-2.3997, 14.9786) ccw
  arc A79 (8.7502, 13.3408) -> (7.8194, 13.9068) centre (0, 0) ccw
  arc A80 (7.8194, 13.9068) -> (5.6249, 11.8275) centre (14.4033, 4.7605) ccw
  arc A81 (5.6249, 11.8275) -> (4.8046, 12.1837) centre (0, 0) ccw
  arc A82 (4.8046, 12.1837) -> (4.8264, 15.2068) centre (-6.3519, 13.7758) ccw
  arc A83 (4.8264, 15.2068) -> (3.7774, 15.5007) centre (0, 0) ccw
  arc A84 (3.7774, 15.5007) -> (2.2253, 12.9064) centre (12.5848, 8.4699) ccw
  arc A85 (2.2253, 12.9064) -> (1.3393, 13.0282) centre (0, 0) ccw
  arc A86 (1.3393, 13.0282) -> (0.5447, 15.9451) centre (-9.833, 11.5512) ccw
  arc A87 (0.5447, 15.9451) -> (-0.5447, 15.9451) centre (0, 0) ccw
  arc A88 (-0.5447, 15.9451) -> (-1.3393, 13.0282) centre (9.833, 11.5512) ccw
  arc A89 (-1.3393, 13.0282) -> (-2.2253, 12.9064) centre (0, 0) ccw
  arc A90 (-2.2253, 12.9064) -> (-3.7774, 15.5007) centre (-12.5848, 8.4699) ccw
  arc A91 (-3.7774, 15.5007) -> (-4.8264, 15.2068) centre (0, 0) ccw
  arc A92 (-1, 3.873) -> (1, 3.873) centre (0, 0) ccw
  line L0 (-1, 3.873) -> (-1, 5)
  line L1 (-1, 5) -> (1, 5)
  line L2 (1, 5) -> (1, 3.873)
  dimension "d0" = 8
  dimension "d1" = 1
  dimension "d2" = 1
  dimension "d3" = 1
extrude "Extrusion1" add sketch "Sketch1" along normal blind 6.35
properties part number "Gear for Angle" material "Aluminum 6061"
